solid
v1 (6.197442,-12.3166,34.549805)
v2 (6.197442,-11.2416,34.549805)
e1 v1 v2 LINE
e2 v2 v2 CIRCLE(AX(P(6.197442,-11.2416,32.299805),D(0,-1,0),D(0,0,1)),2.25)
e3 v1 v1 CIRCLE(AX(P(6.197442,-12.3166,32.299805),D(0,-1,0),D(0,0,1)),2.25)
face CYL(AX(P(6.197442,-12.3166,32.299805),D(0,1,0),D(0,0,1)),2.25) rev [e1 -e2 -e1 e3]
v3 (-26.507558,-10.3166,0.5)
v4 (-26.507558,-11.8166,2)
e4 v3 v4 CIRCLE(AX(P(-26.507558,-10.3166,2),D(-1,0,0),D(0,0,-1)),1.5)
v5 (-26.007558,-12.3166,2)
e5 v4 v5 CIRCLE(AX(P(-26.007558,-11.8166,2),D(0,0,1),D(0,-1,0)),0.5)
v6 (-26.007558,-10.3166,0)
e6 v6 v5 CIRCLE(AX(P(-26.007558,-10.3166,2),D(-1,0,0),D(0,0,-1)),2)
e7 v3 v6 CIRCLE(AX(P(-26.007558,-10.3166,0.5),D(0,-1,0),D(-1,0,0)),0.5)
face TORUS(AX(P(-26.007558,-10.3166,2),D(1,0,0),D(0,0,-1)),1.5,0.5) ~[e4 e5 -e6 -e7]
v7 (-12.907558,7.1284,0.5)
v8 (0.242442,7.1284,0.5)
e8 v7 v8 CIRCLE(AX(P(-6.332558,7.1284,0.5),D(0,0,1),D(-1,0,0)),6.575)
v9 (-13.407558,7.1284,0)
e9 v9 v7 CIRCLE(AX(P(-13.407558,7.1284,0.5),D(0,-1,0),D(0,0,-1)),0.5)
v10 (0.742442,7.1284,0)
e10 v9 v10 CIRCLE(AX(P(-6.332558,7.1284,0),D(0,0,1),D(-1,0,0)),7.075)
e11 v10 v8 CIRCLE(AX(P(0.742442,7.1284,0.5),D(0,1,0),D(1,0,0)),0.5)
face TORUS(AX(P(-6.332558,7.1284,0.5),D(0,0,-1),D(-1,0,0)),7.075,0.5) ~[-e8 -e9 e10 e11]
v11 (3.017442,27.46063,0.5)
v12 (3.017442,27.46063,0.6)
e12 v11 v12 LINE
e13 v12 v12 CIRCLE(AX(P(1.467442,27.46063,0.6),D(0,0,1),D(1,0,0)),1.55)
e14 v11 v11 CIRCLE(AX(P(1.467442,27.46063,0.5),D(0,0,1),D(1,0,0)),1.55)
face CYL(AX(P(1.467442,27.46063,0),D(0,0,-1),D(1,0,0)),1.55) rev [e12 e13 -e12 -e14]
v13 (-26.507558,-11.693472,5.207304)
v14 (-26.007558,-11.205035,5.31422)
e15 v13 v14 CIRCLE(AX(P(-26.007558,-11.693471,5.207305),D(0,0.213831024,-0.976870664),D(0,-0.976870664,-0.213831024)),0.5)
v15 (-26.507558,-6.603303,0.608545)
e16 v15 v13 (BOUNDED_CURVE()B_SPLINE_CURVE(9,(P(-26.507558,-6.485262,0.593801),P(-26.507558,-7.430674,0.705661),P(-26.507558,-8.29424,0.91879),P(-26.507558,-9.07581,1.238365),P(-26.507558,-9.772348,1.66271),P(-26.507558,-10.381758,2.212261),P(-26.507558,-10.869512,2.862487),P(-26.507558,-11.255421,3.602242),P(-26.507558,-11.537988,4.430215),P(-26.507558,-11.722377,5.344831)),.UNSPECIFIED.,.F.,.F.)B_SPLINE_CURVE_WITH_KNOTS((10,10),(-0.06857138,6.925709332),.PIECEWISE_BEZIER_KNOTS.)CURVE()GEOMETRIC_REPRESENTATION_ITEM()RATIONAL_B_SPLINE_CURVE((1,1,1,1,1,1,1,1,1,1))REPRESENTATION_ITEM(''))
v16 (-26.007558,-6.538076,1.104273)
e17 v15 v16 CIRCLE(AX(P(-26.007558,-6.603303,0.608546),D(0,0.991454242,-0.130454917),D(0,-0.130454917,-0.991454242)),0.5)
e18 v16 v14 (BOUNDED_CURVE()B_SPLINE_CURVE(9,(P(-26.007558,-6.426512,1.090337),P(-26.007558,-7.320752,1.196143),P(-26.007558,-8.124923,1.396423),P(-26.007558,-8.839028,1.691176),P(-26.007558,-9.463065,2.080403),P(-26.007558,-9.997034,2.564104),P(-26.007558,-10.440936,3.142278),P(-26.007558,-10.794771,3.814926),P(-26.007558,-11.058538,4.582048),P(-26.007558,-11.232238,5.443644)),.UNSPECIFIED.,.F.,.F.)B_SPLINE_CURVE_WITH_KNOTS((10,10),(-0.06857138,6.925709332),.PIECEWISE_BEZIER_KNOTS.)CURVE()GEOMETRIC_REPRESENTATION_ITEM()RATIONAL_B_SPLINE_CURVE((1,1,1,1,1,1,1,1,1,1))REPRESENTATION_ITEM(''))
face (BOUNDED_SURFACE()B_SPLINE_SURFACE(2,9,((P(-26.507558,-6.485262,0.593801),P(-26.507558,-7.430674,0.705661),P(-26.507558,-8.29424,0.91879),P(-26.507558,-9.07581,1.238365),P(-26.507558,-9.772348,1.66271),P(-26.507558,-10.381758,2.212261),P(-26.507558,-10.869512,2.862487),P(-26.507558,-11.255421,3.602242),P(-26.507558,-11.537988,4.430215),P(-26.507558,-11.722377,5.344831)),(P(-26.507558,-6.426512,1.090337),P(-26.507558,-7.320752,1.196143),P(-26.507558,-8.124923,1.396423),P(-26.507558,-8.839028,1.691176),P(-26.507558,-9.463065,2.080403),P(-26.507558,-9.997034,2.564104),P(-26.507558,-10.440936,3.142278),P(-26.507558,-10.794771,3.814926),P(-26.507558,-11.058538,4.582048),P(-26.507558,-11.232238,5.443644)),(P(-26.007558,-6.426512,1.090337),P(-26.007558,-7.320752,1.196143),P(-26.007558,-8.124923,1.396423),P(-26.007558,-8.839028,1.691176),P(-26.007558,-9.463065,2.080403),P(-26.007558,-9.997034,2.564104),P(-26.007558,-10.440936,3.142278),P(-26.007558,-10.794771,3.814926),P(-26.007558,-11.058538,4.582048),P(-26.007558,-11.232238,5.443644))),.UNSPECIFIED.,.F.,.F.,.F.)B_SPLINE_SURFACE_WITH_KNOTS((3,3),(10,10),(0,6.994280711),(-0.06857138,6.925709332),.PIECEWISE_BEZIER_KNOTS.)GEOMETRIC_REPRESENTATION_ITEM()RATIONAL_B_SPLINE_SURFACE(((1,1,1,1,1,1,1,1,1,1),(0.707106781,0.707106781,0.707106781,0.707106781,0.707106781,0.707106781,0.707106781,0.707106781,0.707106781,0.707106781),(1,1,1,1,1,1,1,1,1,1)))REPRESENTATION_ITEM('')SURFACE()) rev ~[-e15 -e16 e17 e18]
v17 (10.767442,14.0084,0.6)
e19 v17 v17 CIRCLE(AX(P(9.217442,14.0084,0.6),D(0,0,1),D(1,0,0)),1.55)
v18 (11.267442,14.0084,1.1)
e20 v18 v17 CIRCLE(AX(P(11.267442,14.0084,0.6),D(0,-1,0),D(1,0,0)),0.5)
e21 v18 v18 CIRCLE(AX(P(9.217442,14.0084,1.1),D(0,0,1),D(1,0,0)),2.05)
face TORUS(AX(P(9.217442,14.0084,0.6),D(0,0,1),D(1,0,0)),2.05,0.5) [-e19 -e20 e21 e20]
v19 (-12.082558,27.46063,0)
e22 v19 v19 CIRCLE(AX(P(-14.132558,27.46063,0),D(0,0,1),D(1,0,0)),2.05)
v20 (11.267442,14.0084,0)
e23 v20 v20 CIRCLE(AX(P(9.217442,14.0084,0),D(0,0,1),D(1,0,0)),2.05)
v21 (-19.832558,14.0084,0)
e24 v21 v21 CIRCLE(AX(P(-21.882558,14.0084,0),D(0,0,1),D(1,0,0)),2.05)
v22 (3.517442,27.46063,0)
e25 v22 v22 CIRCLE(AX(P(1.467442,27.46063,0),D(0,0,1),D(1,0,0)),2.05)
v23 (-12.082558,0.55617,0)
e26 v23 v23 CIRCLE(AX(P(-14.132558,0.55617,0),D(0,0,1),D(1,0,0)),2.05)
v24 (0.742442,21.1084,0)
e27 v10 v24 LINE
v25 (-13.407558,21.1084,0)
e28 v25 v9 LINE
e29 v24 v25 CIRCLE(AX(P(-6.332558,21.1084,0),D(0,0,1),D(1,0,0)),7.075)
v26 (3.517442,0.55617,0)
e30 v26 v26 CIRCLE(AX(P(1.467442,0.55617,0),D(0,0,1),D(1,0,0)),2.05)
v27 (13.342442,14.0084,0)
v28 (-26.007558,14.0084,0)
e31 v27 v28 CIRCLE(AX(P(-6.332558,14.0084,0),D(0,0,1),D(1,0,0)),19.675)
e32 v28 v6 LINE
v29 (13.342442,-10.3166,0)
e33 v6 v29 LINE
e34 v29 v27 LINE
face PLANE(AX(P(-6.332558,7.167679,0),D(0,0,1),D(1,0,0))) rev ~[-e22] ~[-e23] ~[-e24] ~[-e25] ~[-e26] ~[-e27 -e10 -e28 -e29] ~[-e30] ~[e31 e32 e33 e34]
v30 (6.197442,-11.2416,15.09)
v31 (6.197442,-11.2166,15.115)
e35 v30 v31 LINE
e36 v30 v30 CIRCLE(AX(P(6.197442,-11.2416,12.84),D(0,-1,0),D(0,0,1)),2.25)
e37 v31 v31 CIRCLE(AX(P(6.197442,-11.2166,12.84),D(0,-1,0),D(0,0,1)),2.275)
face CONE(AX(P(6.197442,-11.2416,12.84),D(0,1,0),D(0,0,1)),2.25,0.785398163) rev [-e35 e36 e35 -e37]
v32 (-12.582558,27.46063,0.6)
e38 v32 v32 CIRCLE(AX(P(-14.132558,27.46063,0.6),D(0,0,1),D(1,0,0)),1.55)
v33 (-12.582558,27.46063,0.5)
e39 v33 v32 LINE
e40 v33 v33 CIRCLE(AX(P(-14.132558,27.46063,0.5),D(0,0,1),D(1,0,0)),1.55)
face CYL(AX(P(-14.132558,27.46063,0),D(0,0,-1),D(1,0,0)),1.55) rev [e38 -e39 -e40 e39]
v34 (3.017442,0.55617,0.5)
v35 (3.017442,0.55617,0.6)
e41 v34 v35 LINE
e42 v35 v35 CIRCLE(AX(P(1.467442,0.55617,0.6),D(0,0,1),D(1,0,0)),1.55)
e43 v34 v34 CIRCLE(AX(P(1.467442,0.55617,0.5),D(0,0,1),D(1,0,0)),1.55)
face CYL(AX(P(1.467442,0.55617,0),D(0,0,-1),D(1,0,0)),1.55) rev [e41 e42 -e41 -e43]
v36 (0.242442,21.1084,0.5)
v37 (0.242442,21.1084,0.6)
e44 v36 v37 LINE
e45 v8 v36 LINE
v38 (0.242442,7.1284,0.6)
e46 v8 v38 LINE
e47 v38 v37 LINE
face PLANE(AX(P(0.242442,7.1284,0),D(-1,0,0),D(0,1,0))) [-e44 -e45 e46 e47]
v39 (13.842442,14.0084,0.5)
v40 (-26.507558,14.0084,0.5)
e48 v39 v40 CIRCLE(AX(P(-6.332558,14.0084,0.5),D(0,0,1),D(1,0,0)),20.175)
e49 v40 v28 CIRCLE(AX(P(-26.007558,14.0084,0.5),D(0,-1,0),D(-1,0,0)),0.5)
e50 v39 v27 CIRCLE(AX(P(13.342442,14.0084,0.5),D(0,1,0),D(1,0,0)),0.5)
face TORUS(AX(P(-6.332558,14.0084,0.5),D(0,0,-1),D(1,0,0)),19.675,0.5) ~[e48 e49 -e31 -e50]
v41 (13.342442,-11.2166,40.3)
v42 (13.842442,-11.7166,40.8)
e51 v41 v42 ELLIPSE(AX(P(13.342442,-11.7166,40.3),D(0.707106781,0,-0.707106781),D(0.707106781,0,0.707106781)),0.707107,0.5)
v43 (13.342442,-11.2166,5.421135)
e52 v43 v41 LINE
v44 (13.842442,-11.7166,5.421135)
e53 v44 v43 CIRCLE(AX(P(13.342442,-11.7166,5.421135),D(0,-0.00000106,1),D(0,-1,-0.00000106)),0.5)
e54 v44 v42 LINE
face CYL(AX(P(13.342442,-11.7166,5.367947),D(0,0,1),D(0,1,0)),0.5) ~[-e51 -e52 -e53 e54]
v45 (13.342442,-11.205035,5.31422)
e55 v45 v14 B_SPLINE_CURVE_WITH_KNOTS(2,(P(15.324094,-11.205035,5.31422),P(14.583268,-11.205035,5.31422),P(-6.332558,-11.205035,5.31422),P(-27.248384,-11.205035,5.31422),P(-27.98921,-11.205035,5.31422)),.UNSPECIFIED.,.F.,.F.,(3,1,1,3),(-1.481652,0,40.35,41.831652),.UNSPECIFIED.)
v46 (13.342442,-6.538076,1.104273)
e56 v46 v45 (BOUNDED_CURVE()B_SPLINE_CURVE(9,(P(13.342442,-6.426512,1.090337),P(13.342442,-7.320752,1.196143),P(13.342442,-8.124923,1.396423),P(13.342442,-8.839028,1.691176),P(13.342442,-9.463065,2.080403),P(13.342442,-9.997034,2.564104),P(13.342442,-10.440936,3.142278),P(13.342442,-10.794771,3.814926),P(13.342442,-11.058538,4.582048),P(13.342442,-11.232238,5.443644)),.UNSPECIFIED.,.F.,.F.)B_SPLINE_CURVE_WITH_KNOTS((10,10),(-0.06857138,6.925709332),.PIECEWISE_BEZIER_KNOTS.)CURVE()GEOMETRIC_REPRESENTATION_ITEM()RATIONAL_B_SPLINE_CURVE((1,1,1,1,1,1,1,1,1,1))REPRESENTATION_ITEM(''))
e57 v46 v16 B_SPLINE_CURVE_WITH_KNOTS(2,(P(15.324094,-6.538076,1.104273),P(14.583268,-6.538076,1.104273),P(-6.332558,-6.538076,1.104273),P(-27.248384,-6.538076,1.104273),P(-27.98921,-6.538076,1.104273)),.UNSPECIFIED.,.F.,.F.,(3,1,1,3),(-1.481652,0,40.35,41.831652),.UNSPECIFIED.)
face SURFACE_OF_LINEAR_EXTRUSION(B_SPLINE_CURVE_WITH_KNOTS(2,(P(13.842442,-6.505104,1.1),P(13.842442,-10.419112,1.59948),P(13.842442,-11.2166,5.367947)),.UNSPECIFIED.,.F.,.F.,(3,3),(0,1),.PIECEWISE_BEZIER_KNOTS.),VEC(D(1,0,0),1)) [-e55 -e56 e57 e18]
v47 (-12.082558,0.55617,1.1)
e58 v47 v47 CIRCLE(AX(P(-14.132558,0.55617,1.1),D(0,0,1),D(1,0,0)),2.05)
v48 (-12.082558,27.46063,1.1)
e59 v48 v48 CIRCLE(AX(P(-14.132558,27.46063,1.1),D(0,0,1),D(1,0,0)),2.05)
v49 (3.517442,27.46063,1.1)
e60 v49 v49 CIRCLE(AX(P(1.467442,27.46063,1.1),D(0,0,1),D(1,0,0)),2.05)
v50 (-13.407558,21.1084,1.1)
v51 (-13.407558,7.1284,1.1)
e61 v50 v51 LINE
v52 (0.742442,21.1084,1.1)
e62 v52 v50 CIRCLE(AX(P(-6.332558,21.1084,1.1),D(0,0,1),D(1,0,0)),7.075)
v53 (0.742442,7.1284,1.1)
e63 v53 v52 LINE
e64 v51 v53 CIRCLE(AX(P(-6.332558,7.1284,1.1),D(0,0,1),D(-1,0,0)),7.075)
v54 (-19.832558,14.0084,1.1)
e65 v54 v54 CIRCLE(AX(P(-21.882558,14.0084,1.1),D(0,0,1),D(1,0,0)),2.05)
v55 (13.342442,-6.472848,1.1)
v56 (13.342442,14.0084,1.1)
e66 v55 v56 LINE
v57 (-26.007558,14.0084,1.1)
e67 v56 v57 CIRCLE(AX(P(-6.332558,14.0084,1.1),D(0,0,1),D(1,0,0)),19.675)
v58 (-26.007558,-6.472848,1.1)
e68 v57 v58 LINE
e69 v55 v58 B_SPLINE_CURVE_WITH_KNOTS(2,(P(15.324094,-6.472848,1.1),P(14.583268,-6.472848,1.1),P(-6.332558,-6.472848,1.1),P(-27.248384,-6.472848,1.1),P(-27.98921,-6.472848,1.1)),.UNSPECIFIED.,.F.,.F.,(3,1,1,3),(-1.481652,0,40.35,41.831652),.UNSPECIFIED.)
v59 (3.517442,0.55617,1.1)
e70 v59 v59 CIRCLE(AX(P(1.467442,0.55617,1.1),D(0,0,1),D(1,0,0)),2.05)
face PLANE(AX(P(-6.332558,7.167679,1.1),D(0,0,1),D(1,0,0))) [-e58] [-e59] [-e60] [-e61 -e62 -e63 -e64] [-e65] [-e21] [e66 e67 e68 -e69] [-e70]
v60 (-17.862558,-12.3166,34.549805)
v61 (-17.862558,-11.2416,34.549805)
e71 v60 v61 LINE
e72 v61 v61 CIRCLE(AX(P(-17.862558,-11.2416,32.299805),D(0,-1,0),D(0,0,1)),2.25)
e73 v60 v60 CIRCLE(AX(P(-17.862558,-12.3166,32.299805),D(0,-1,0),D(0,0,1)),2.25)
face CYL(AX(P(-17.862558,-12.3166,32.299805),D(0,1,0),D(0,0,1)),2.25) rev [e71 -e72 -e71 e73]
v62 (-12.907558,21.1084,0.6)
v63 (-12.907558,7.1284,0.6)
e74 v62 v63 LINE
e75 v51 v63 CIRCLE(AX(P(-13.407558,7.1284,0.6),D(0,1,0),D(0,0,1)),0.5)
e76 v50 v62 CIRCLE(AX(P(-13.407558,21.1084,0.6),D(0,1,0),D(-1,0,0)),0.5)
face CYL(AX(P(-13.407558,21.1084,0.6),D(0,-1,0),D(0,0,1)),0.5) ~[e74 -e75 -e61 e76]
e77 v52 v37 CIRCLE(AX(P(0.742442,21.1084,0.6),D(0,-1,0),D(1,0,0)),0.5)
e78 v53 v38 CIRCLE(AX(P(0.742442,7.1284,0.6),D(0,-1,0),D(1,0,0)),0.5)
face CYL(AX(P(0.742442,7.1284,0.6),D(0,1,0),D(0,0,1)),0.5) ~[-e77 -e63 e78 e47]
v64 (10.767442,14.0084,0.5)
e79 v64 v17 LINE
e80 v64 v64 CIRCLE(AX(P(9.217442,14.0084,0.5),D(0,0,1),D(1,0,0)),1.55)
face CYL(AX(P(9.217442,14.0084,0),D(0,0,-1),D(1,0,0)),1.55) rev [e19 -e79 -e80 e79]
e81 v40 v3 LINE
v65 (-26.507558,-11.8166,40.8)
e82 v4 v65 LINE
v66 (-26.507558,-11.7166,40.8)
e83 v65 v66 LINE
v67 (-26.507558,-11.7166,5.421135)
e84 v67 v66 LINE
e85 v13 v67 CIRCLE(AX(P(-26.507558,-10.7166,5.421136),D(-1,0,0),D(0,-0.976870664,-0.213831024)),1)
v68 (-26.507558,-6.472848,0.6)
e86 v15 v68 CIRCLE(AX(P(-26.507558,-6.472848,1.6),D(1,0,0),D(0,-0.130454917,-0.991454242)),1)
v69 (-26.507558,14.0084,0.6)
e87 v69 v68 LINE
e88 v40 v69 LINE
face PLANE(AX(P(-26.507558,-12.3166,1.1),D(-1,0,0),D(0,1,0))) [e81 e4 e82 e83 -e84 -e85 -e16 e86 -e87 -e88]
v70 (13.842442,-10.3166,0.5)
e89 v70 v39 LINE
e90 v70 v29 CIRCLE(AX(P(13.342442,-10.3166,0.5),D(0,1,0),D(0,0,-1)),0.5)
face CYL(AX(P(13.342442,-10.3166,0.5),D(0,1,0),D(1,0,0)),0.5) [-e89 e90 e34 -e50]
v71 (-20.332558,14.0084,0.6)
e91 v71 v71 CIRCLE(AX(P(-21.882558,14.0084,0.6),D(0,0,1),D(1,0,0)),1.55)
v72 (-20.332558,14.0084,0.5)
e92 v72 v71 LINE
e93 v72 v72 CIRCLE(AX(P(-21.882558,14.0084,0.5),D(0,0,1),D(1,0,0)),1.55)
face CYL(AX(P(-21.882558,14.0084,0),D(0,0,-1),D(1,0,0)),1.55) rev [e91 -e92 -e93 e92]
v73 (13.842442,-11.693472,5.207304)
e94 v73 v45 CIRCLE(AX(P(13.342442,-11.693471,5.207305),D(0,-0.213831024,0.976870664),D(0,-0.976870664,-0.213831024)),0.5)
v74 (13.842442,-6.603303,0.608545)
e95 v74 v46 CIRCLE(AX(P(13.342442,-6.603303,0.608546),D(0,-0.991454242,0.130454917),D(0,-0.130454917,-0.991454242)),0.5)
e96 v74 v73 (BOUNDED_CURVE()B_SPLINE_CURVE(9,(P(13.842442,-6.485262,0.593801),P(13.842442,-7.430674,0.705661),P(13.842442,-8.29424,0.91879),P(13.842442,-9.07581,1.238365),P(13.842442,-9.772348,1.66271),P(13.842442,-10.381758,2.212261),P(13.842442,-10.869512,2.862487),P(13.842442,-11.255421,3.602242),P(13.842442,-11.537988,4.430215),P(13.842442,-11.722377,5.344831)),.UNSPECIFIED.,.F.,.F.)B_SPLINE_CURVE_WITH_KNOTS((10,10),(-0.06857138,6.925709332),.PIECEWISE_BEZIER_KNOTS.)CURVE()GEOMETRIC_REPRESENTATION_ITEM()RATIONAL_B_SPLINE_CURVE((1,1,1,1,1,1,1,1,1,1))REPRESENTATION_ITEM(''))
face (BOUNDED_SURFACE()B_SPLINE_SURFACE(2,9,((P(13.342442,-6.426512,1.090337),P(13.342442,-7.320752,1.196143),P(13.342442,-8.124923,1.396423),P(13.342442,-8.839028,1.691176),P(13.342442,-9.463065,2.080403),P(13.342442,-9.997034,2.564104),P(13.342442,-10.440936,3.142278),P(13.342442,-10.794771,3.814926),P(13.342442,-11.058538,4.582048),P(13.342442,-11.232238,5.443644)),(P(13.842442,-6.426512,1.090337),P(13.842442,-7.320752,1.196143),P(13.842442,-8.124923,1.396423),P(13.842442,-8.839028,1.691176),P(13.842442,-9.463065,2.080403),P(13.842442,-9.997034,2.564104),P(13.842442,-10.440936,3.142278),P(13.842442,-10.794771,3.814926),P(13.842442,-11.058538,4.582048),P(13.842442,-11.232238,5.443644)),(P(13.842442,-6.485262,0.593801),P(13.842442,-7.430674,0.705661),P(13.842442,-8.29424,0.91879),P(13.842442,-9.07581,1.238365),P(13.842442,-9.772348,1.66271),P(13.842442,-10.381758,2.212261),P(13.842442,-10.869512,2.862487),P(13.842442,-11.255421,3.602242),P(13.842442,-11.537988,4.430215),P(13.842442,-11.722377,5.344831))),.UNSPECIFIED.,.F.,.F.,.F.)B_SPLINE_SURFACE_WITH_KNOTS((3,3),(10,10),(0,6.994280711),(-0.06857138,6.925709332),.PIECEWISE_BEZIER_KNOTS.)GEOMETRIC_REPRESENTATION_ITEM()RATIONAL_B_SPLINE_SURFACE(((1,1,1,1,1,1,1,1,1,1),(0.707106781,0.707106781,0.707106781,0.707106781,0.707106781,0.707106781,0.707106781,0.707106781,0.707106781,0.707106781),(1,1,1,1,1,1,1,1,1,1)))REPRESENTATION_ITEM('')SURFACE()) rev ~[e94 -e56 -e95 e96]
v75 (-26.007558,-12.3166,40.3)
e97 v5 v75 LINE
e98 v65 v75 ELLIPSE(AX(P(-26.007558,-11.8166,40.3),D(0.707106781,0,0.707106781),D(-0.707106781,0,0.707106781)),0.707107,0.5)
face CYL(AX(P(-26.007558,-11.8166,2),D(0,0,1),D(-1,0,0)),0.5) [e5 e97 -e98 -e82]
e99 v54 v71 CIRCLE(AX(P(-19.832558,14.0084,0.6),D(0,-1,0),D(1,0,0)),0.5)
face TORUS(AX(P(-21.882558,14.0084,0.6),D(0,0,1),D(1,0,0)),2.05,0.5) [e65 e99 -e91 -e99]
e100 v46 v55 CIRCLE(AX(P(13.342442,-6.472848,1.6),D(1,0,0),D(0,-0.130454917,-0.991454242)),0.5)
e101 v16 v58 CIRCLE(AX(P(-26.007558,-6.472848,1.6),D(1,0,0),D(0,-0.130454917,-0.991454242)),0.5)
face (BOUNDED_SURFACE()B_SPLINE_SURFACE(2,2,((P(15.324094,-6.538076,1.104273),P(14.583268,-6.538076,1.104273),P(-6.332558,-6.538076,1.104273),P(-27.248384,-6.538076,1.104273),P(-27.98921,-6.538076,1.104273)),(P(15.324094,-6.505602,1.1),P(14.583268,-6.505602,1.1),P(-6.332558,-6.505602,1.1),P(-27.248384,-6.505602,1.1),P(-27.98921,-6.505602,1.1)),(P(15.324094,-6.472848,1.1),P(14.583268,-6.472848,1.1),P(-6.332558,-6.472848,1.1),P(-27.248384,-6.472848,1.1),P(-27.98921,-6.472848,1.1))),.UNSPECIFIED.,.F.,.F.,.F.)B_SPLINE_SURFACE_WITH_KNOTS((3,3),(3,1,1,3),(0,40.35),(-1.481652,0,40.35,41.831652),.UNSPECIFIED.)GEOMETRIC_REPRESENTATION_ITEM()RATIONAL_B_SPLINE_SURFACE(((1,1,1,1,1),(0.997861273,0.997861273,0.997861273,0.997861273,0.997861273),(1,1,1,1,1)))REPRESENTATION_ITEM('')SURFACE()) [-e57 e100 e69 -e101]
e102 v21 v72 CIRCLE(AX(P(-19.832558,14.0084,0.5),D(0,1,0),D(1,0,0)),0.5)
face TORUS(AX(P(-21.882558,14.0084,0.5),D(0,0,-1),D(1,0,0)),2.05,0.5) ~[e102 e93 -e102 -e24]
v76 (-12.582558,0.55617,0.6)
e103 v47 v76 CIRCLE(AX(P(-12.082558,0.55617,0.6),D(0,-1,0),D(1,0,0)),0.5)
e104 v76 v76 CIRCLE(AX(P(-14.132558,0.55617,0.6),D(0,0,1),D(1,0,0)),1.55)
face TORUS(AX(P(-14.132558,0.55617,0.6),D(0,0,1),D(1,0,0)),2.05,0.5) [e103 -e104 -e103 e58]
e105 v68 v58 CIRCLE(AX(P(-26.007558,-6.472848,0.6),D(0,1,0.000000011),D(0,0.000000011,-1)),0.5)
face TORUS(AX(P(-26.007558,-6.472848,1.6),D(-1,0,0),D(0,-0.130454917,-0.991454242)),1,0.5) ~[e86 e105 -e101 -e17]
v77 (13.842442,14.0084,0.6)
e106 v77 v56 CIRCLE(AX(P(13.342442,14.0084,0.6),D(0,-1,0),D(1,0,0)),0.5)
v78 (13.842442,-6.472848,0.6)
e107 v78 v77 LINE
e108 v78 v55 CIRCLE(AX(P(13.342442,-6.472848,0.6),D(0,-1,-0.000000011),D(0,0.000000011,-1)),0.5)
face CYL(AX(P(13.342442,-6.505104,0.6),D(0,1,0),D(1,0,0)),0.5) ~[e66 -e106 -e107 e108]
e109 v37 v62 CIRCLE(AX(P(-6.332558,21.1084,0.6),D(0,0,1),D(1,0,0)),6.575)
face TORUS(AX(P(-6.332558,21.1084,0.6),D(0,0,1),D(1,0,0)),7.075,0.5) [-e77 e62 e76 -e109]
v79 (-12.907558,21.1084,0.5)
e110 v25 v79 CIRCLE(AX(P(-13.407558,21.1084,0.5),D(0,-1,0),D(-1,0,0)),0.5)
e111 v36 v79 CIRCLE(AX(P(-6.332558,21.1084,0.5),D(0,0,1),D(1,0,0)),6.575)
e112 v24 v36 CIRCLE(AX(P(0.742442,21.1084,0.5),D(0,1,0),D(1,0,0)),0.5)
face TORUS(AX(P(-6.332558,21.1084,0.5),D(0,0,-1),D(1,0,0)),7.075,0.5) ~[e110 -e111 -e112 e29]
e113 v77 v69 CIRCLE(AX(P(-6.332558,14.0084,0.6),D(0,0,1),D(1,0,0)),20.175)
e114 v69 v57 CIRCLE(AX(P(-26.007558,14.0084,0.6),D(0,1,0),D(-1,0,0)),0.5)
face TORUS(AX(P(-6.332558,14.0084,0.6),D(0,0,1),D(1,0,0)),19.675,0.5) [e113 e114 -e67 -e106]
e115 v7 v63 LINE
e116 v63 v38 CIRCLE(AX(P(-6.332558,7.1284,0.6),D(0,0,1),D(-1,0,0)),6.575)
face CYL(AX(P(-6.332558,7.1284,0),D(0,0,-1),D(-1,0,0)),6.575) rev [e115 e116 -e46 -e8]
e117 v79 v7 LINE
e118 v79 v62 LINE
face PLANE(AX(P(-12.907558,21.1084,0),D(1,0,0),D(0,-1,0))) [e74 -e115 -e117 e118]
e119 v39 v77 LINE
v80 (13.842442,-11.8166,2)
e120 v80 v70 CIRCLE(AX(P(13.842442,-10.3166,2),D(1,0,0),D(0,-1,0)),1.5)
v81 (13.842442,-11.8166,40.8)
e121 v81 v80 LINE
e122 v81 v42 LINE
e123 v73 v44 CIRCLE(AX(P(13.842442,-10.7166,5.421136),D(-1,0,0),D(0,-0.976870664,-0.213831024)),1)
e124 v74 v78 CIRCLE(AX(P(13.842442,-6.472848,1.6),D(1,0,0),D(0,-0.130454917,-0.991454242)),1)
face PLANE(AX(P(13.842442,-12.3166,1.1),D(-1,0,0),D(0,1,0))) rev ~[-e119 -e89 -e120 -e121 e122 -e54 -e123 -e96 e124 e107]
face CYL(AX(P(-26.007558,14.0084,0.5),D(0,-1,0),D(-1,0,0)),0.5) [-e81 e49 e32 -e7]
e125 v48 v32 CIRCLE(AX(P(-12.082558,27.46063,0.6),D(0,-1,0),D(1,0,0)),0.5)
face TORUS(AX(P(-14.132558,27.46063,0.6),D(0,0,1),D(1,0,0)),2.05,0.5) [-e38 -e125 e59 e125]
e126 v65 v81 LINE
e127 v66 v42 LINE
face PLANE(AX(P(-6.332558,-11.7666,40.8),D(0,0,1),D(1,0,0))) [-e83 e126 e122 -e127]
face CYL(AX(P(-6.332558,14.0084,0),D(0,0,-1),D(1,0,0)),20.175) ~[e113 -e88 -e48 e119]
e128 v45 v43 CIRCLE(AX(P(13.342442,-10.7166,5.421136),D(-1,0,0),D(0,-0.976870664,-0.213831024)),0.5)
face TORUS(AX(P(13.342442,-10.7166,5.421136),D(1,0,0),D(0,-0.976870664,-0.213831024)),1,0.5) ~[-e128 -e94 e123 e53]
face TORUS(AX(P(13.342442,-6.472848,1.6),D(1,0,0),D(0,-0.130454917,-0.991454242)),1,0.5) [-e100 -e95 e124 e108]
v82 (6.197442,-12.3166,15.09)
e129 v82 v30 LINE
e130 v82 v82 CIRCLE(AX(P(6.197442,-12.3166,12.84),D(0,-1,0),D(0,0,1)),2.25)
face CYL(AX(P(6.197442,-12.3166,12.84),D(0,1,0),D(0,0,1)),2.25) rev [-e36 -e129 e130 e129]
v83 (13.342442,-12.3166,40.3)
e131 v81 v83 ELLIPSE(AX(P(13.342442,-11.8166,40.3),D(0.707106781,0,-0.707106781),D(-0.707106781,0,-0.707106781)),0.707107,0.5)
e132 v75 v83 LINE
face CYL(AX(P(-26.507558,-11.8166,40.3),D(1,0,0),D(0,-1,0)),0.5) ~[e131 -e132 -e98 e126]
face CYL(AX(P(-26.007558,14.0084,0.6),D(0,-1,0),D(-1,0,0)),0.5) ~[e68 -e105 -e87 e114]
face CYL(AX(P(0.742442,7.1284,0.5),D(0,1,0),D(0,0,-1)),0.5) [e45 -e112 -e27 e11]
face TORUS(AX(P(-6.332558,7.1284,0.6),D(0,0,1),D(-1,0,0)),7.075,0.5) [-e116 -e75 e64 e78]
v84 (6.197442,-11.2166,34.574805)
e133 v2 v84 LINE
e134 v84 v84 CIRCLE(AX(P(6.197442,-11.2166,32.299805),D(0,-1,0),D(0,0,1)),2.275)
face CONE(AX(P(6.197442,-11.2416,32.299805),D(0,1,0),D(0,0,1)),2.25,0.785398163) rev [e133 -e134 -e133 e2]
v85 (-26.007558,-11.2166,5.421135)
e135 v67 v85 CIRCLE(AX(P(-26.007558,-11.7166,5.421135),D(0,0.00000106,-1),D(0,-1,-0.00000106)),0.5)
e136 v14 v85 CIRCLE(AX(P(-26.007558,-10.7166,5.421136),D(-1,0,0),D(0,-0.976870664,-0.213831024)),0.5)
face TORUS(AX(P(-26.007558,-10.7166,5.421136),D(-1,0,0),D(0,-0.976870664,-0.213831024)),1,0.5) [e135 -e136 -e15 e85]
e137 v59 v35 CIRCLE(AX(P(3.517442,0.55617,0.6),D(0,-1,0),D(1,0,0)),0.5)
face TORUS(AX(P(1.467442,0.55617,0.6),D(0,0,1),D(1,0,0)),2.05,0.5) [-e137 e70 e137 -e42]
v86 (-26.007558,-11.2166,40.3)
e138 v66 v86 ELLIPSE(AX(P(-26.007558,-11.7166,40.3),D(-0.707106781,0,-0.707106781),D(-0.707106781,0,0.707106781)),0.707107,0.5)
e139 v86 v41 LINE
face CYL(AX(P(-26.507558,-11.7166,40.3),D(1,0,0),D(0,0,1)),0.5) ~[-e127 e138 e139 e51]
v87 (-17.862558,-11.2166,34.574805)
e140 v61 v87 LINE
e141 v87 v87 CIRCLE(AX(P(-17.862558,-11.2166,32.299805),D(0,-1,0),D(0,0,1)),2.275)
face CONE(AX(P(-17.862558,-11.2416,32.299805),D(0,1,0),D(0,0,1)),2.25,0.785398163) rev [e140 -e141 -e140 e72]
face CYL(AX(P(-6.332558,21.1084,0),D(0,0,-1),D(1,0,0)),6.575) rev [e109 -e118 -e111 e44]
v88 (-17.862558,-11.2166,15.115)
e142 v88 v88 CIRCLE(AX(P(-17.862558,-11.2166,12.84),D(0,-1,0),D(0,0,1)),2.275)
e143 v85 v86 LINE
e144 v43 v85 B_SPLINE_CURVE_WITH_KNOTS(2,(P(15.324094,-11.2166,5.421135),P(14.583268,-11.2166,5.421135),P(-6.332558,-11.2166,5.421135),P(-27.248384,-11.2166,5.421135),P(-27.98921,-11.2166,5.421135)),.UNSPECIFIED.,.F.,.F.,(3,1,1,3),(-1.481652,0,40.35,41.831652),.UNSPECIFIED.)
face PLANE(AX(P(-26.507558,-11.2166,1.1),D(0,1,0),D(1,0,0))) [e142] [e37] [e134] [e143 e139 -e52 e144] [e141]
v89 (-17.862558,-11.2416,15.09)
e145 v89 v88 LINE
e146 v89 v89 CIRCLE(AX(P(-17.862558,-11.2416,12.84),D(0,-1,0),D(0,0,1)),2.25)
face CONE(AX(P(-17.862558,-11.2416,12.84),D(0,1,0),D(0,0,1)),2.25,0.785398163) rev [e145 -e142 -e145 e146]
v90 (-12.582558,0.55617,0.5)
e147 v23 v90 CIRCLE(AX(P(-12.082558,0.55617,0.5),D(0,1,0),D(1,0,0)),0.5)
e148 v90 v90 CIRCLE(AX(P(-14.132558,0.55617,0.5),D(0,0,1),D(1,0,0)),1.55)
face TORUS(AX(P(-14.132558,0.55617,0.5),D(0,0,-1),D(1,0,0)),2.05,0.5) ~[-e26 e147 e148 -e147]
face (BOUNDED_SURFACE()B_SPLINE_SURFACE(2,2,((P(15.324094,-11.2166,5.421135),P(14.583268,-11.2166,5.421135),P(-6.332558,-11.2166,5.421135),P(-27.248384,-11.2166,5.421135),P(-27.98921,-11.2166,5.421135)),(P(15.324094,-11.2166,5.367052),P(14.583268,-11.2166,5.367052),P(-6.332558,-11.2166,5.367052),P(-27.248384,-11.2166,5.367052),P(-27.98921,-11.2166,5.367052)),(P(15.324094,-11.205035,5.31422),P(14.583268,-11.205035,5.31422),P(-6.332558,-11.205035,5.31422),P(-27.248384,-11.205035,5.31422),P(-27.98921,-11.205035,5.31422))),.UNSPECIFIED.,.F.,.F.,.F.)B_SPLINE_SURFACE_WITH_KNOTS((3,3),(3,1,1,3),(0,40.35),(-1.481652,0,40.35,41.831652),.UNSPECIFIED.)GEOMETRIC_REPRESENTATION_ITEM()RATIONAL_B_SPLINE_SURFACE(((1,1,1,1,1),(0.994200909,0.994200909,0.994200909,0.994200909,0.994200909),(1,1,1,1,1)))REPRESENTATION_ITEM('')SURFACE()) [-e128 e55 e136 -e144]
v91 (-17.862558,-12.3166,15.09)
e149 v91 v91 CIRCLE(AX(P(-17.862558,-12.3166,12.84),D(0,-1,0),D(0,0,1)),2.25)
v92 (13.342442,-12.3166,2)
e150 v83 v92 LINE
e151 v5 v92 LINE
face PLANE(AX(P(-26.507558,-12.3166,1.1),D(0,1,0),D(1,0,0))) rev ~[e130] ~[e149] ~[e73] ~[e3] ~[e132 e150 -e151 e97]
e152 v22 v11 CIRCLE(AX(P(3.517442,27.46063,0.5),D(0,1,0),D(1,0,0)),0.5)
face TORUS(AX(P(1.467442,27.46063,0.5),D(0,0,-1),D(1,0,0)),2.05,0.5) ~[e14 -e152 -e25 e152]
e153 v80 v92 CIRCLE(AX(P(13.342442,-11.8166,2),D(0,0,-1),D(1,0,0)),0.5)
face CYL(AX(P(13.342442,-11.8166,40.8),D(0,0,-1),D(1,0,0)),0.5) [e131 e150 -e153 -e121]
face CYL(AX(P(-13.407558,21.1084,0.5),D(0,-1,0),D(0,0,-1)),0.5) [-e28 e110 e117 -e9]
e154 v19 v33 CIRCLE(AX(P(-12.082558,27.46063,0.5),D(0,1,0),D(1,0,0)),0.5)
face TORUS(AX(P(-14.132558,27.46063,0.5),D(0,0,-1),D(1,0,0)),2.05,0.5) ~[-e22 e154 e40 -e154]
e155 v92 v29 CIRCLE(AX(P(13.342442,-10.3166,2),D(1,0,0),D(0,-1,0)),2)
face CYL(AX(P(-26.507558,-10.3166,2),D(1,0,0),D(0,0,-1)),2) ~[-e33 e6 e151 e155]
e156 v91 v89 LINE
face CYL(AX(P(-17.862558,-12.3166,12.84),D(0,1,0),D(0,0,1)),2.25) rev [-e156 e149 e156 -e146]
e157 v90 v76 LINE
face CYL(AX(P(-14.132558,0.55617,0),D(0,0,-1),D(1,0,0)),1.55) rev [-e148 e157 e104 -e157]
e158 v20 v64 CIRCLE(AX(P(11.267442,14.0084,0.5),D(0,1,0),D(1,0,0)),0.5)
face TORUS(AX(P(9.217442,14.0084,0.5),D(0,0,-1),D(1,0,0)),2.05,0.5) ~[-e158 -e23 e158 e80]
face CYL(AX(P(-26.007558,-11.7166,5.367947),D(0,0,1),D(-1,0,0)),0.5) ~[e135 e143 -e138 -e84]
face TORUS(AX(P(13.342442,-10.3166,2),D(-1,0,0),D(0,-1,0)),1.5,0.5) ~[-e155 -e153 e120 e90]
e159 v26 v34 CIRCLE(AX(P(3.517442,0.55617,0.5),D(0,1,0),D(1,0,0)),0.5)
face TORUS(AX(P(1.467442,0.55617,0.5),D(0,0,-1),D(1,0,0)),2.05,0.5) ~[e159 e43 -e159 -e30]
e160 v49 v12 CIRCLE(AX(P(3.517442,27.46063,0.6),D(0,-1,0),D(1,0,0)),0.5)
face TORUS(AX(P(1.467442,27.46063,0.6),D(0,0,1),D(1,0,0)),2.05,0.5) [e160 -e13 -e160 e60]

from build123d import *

# Parameters (mm, degrees)
SKETCH1_R                     = 1.55
BOSS_EXTRUDE1_DEPTH           = 1.1
SKETCH2_W                     = 40.35
SKETCH2_H                     = 1.1
BOSS_EXTRUDE2_DEPTH           = 39.7
BOSS_EXTRUDE3_DEPTH           = 40.35
FILLET1_R                     = 2
FILLET2_R                     = 0.5
M4_CLEARANCE_HOLE1_AT_2_COUNT = 2
M4_CLEARANCE_HOLE1_AT_2_PITCH = 24.06
M4_CLEARANCE_HOLE1_AT_3_COUNT = 2
M4_CLEARANCE_HOLE1_AT_3_PITCH = 30.944589175
M4_CLEARANCE_HOLE1_AT_4_COUNT = 2
M4_CLEARANCE_HOLE1_AT_4_PITCH = 19.459804706


with BuildPart() as part:
    # Sketch1 → Boss-Extrude1 (new body)
    with BuildSketch(Plane.XY):
        with BuildLine():
            Line((-26.507558098, -12.316599948), (13.842441902, -12.316599948))
            Line((13.842441902, -12.316599948), (13.842441902, -2.816599948))
            Line((13.842441902, -2.816599948), (13.842441902, 14.008400052))
            ThreePointArc((13.842441902, 14.008400052), (-6.332558098, 34.183400052), (-26.507558098, 14.008400052))
            Line((-26.507558098, 14.008400052), (-26.507558098, -2.816599948))
            Line((-26.507558098, -2.816599948), (-26.507558098, -12.316599948))
        make_face()
        with Locations((-14.132558098, 27.460630351)):
            Circle(SKETCH1_R, mode=Mode.SUBTRACT)
        with Locations((-21.882558098, 14.008400052)):
            Circle(SKETCH1_R, mode=Mode.SUBTRACT)
        with Locations((1.467441902, 27.460630351)):
            Circle(SKETCH1_R, mode=Mode.SUBTRACT)
        with Locations((9.217441902, 14.008400052)):
            Circle(SKETCH1_R, mode=Mode.SUBTRACT)
        with Locations((1.467441902, 0.556169754)):
            Circle(SKETCH1_R, mode=Mode.SUBTRACT)
        with Locations((-14.132558098, 0.556169754)):
            Circle(SKETCH1_R, mode=Mode.SUBTRACT)
        with BuildLine():
            Line((0.242441902, 7.128400052), (0.242441902, 21.108400052))
            ThreePointArc((0.242441902, 21.108400052), (-6.332558098, 27.683400052), (-12.907558098, 21.108400052))
            Line((-12.907558098, 21.108400052), (-12.907558098, 7.128400052))
            ThreePointArc((-12.907558098, 7.128400052), (-6.332558098, 0.553400052), (0.242441902, 7.128400052))
        make_face(mode=Mode.SUBTRACT)
    extrude(amount=BOSS_EXTRUDE1_DEPTH)

    # Sketch2 → Boss-Extrude2 (add)
    with BuildSketch(Plane.XY.offset(1.1)):
        with Locations((-6.332558098, -11.766599948)):
            Rectangle(SKETCH2_W, SKETCH2_H)
    extrude(amount=BOSS_EXTRUDE2_DEPTH)

    # Sketch3 → Boss-Extrude3 (add)
    with BuildSketch(Plane(origin=(13.842441902, 0, 0), x_dir=(0, 0, -1), z_dir=(1, 0, 0))):
        with BuildLine():
            Line((0, -12.316599948), (-5.36794749, -12.316599948))
            Line((-5.36794749, -12.316599948), (-5.36794749, -11.216599948))
            add(Edge.make_bspline(
                [(-1.1, -6.505104198), (-1.599480464, -10.419111845), (-5.36794749, -11.216599948)],
                knots=[0, 0, 0, 1, 1, 1], degree=2))
            Line((-1.1, -6.505104198), (0, -6.505104198))
            Line((0, -6.505104198), (0, -12.316599948))
        make_face()
    extrude(amount=-BOSS_EXTRUDE3_DEPTH)

    # Fillet1
    fillet1_edges = [part.edges().sort_by_distance(p)[0] for p in [
        (-6.332558098, -12.316599948, 0),
    ]]
    fillet(fillet1_edges, radius=FILLET1_R)

    # Fillet2
    fillet2_edges = [part.edges().sort_by_distance(p)[0] for p in [
        (-26.507558098, -11.73081351, 0.585786438),
        (13.842441902, -12.316599948, 21.4),
        (-26.507558098, -12.316599948, 21.4),
        (-15.682558098, 27.460630351, 0),
        (-15.682558098, 27.460630351, 1.1),
        (-6.332558098, 34.183400052, 1.1),
        (-23.432558098, 14.008400052, 0),
        (-23.432558098, 14.008400052, 1.1),
        (-0.082558098, 27.460630351, 0),
        (-0.082558098, 27.460630351, 1.1),
        (7.667441902, 14.008400052, 0),
        (7.667441902, 14.008400052, 1.1),
        (-0.082558098, 0.556169754, 0),
        (-0.082558098, 0.556169754, 1.1),
        (-15.682558098, 0.556169754, 0),
        (-15.682558098, 0.556169754, 1.1),
        (-6.332558098, 27.683400052, 0),
        (-12.907558098, 14.118400052, 0),
        (-6.332558098, 0.553400052, 0),
        (0.242441902, 14.118400052, 0),
        (-6.332558098, 27.683400052, 1.1),
        (-12.907558098, 14.118400052, 1.1),
        (-6.332558098, 0.553400052, 1.1),
        (0.242441902, 14.118400052, 1.1),
        (-26.507558098, 3.751647927, 1.1),
        (-26.507558098, -11.216599948, 23.083973745),
        (13.842441902, -11.216599948, 23.083973745),
        (-6.332558098, -12.316599948, 40.8),
        (-6.332558098, -11.216599948, 40.8),
        (-26.507558098, 1.845900052, 0),
        (-6.332558098, 34.183400052, 0),
        (13.842441902, 3.751647927, 1.1),
        (-6.332558098, -11.216599948, 5.36794749),
        (-6.332558098, -6.505104198, 1.1),
        (13.842441902, -9.620777593, 2.399431344),
        (-26.507558098, -9.620777593, 2.399431344),
        (13.842441902, 1.845900052, 0),
        (13.842441902, -11.73081351, 0.585786438),
    ]]
    fillet(fillet2_edges, radius=FILLET2_R)

    # Sketch5 → M4 Clearance Hole1 (revolve, cut)
    with BuildSketch(Plane(origin=(-17.862558098, -11.216599948, 12.84), x_dir=(0, 0, 1), z_dir=(1, 0, 0))):
        Polygon((0, 0), (0, 1.1), (2.25, 1.1), (2.25, 0.025), (2.275, 0), align=None)
    m4_clearance_hole1 = revolve(axis=Axis((-17.862558098, -4.866599948, 12.84), (0, -1, 0)), mode=Mode.SUBTRACT)

    # M4 Clearance Hole1 at 2: M4 Clearance Hole1 ×2
    with Locations(*[(i * M4_CLEARANCE_HOLE1_AT_2_PITCH, 0, 0) for i in range(1, M4_CLEARANCE_HOLE1_AT_2_COUNT)]):
        add(m4_clearance_hole1, mode=Mode.SUBTRACT)

    # M4 Clearance Hole1 at 3: M4 Clearance Hole1 ×2
    with Locations(*[Vector(0.7775188051098192, 0, 0.6288596884048134) * (i * M4_CLEARANCE_HOLE1_AT_3_PITCH) for i in range(1, M4_CLEARANCE_HOLE1_AT_3_COUNT)]):
        add(m4_clearance_hole1, mode=Mode.SUBTRACT)

    # M4 Clearance Hole1 at 4: M4 Clearance Hole1 ×2
    with Locations(*[(0, 0, i * M4_CLEARANCE_HOLE1_AT_4_PITCH) for i in range(1, M4_CLEARANCE_HOLE1_AT_4_COUNT)]):
        add(m4_clearance_hole1, mode=Mode.SUBTRACT)


solid = part.part
